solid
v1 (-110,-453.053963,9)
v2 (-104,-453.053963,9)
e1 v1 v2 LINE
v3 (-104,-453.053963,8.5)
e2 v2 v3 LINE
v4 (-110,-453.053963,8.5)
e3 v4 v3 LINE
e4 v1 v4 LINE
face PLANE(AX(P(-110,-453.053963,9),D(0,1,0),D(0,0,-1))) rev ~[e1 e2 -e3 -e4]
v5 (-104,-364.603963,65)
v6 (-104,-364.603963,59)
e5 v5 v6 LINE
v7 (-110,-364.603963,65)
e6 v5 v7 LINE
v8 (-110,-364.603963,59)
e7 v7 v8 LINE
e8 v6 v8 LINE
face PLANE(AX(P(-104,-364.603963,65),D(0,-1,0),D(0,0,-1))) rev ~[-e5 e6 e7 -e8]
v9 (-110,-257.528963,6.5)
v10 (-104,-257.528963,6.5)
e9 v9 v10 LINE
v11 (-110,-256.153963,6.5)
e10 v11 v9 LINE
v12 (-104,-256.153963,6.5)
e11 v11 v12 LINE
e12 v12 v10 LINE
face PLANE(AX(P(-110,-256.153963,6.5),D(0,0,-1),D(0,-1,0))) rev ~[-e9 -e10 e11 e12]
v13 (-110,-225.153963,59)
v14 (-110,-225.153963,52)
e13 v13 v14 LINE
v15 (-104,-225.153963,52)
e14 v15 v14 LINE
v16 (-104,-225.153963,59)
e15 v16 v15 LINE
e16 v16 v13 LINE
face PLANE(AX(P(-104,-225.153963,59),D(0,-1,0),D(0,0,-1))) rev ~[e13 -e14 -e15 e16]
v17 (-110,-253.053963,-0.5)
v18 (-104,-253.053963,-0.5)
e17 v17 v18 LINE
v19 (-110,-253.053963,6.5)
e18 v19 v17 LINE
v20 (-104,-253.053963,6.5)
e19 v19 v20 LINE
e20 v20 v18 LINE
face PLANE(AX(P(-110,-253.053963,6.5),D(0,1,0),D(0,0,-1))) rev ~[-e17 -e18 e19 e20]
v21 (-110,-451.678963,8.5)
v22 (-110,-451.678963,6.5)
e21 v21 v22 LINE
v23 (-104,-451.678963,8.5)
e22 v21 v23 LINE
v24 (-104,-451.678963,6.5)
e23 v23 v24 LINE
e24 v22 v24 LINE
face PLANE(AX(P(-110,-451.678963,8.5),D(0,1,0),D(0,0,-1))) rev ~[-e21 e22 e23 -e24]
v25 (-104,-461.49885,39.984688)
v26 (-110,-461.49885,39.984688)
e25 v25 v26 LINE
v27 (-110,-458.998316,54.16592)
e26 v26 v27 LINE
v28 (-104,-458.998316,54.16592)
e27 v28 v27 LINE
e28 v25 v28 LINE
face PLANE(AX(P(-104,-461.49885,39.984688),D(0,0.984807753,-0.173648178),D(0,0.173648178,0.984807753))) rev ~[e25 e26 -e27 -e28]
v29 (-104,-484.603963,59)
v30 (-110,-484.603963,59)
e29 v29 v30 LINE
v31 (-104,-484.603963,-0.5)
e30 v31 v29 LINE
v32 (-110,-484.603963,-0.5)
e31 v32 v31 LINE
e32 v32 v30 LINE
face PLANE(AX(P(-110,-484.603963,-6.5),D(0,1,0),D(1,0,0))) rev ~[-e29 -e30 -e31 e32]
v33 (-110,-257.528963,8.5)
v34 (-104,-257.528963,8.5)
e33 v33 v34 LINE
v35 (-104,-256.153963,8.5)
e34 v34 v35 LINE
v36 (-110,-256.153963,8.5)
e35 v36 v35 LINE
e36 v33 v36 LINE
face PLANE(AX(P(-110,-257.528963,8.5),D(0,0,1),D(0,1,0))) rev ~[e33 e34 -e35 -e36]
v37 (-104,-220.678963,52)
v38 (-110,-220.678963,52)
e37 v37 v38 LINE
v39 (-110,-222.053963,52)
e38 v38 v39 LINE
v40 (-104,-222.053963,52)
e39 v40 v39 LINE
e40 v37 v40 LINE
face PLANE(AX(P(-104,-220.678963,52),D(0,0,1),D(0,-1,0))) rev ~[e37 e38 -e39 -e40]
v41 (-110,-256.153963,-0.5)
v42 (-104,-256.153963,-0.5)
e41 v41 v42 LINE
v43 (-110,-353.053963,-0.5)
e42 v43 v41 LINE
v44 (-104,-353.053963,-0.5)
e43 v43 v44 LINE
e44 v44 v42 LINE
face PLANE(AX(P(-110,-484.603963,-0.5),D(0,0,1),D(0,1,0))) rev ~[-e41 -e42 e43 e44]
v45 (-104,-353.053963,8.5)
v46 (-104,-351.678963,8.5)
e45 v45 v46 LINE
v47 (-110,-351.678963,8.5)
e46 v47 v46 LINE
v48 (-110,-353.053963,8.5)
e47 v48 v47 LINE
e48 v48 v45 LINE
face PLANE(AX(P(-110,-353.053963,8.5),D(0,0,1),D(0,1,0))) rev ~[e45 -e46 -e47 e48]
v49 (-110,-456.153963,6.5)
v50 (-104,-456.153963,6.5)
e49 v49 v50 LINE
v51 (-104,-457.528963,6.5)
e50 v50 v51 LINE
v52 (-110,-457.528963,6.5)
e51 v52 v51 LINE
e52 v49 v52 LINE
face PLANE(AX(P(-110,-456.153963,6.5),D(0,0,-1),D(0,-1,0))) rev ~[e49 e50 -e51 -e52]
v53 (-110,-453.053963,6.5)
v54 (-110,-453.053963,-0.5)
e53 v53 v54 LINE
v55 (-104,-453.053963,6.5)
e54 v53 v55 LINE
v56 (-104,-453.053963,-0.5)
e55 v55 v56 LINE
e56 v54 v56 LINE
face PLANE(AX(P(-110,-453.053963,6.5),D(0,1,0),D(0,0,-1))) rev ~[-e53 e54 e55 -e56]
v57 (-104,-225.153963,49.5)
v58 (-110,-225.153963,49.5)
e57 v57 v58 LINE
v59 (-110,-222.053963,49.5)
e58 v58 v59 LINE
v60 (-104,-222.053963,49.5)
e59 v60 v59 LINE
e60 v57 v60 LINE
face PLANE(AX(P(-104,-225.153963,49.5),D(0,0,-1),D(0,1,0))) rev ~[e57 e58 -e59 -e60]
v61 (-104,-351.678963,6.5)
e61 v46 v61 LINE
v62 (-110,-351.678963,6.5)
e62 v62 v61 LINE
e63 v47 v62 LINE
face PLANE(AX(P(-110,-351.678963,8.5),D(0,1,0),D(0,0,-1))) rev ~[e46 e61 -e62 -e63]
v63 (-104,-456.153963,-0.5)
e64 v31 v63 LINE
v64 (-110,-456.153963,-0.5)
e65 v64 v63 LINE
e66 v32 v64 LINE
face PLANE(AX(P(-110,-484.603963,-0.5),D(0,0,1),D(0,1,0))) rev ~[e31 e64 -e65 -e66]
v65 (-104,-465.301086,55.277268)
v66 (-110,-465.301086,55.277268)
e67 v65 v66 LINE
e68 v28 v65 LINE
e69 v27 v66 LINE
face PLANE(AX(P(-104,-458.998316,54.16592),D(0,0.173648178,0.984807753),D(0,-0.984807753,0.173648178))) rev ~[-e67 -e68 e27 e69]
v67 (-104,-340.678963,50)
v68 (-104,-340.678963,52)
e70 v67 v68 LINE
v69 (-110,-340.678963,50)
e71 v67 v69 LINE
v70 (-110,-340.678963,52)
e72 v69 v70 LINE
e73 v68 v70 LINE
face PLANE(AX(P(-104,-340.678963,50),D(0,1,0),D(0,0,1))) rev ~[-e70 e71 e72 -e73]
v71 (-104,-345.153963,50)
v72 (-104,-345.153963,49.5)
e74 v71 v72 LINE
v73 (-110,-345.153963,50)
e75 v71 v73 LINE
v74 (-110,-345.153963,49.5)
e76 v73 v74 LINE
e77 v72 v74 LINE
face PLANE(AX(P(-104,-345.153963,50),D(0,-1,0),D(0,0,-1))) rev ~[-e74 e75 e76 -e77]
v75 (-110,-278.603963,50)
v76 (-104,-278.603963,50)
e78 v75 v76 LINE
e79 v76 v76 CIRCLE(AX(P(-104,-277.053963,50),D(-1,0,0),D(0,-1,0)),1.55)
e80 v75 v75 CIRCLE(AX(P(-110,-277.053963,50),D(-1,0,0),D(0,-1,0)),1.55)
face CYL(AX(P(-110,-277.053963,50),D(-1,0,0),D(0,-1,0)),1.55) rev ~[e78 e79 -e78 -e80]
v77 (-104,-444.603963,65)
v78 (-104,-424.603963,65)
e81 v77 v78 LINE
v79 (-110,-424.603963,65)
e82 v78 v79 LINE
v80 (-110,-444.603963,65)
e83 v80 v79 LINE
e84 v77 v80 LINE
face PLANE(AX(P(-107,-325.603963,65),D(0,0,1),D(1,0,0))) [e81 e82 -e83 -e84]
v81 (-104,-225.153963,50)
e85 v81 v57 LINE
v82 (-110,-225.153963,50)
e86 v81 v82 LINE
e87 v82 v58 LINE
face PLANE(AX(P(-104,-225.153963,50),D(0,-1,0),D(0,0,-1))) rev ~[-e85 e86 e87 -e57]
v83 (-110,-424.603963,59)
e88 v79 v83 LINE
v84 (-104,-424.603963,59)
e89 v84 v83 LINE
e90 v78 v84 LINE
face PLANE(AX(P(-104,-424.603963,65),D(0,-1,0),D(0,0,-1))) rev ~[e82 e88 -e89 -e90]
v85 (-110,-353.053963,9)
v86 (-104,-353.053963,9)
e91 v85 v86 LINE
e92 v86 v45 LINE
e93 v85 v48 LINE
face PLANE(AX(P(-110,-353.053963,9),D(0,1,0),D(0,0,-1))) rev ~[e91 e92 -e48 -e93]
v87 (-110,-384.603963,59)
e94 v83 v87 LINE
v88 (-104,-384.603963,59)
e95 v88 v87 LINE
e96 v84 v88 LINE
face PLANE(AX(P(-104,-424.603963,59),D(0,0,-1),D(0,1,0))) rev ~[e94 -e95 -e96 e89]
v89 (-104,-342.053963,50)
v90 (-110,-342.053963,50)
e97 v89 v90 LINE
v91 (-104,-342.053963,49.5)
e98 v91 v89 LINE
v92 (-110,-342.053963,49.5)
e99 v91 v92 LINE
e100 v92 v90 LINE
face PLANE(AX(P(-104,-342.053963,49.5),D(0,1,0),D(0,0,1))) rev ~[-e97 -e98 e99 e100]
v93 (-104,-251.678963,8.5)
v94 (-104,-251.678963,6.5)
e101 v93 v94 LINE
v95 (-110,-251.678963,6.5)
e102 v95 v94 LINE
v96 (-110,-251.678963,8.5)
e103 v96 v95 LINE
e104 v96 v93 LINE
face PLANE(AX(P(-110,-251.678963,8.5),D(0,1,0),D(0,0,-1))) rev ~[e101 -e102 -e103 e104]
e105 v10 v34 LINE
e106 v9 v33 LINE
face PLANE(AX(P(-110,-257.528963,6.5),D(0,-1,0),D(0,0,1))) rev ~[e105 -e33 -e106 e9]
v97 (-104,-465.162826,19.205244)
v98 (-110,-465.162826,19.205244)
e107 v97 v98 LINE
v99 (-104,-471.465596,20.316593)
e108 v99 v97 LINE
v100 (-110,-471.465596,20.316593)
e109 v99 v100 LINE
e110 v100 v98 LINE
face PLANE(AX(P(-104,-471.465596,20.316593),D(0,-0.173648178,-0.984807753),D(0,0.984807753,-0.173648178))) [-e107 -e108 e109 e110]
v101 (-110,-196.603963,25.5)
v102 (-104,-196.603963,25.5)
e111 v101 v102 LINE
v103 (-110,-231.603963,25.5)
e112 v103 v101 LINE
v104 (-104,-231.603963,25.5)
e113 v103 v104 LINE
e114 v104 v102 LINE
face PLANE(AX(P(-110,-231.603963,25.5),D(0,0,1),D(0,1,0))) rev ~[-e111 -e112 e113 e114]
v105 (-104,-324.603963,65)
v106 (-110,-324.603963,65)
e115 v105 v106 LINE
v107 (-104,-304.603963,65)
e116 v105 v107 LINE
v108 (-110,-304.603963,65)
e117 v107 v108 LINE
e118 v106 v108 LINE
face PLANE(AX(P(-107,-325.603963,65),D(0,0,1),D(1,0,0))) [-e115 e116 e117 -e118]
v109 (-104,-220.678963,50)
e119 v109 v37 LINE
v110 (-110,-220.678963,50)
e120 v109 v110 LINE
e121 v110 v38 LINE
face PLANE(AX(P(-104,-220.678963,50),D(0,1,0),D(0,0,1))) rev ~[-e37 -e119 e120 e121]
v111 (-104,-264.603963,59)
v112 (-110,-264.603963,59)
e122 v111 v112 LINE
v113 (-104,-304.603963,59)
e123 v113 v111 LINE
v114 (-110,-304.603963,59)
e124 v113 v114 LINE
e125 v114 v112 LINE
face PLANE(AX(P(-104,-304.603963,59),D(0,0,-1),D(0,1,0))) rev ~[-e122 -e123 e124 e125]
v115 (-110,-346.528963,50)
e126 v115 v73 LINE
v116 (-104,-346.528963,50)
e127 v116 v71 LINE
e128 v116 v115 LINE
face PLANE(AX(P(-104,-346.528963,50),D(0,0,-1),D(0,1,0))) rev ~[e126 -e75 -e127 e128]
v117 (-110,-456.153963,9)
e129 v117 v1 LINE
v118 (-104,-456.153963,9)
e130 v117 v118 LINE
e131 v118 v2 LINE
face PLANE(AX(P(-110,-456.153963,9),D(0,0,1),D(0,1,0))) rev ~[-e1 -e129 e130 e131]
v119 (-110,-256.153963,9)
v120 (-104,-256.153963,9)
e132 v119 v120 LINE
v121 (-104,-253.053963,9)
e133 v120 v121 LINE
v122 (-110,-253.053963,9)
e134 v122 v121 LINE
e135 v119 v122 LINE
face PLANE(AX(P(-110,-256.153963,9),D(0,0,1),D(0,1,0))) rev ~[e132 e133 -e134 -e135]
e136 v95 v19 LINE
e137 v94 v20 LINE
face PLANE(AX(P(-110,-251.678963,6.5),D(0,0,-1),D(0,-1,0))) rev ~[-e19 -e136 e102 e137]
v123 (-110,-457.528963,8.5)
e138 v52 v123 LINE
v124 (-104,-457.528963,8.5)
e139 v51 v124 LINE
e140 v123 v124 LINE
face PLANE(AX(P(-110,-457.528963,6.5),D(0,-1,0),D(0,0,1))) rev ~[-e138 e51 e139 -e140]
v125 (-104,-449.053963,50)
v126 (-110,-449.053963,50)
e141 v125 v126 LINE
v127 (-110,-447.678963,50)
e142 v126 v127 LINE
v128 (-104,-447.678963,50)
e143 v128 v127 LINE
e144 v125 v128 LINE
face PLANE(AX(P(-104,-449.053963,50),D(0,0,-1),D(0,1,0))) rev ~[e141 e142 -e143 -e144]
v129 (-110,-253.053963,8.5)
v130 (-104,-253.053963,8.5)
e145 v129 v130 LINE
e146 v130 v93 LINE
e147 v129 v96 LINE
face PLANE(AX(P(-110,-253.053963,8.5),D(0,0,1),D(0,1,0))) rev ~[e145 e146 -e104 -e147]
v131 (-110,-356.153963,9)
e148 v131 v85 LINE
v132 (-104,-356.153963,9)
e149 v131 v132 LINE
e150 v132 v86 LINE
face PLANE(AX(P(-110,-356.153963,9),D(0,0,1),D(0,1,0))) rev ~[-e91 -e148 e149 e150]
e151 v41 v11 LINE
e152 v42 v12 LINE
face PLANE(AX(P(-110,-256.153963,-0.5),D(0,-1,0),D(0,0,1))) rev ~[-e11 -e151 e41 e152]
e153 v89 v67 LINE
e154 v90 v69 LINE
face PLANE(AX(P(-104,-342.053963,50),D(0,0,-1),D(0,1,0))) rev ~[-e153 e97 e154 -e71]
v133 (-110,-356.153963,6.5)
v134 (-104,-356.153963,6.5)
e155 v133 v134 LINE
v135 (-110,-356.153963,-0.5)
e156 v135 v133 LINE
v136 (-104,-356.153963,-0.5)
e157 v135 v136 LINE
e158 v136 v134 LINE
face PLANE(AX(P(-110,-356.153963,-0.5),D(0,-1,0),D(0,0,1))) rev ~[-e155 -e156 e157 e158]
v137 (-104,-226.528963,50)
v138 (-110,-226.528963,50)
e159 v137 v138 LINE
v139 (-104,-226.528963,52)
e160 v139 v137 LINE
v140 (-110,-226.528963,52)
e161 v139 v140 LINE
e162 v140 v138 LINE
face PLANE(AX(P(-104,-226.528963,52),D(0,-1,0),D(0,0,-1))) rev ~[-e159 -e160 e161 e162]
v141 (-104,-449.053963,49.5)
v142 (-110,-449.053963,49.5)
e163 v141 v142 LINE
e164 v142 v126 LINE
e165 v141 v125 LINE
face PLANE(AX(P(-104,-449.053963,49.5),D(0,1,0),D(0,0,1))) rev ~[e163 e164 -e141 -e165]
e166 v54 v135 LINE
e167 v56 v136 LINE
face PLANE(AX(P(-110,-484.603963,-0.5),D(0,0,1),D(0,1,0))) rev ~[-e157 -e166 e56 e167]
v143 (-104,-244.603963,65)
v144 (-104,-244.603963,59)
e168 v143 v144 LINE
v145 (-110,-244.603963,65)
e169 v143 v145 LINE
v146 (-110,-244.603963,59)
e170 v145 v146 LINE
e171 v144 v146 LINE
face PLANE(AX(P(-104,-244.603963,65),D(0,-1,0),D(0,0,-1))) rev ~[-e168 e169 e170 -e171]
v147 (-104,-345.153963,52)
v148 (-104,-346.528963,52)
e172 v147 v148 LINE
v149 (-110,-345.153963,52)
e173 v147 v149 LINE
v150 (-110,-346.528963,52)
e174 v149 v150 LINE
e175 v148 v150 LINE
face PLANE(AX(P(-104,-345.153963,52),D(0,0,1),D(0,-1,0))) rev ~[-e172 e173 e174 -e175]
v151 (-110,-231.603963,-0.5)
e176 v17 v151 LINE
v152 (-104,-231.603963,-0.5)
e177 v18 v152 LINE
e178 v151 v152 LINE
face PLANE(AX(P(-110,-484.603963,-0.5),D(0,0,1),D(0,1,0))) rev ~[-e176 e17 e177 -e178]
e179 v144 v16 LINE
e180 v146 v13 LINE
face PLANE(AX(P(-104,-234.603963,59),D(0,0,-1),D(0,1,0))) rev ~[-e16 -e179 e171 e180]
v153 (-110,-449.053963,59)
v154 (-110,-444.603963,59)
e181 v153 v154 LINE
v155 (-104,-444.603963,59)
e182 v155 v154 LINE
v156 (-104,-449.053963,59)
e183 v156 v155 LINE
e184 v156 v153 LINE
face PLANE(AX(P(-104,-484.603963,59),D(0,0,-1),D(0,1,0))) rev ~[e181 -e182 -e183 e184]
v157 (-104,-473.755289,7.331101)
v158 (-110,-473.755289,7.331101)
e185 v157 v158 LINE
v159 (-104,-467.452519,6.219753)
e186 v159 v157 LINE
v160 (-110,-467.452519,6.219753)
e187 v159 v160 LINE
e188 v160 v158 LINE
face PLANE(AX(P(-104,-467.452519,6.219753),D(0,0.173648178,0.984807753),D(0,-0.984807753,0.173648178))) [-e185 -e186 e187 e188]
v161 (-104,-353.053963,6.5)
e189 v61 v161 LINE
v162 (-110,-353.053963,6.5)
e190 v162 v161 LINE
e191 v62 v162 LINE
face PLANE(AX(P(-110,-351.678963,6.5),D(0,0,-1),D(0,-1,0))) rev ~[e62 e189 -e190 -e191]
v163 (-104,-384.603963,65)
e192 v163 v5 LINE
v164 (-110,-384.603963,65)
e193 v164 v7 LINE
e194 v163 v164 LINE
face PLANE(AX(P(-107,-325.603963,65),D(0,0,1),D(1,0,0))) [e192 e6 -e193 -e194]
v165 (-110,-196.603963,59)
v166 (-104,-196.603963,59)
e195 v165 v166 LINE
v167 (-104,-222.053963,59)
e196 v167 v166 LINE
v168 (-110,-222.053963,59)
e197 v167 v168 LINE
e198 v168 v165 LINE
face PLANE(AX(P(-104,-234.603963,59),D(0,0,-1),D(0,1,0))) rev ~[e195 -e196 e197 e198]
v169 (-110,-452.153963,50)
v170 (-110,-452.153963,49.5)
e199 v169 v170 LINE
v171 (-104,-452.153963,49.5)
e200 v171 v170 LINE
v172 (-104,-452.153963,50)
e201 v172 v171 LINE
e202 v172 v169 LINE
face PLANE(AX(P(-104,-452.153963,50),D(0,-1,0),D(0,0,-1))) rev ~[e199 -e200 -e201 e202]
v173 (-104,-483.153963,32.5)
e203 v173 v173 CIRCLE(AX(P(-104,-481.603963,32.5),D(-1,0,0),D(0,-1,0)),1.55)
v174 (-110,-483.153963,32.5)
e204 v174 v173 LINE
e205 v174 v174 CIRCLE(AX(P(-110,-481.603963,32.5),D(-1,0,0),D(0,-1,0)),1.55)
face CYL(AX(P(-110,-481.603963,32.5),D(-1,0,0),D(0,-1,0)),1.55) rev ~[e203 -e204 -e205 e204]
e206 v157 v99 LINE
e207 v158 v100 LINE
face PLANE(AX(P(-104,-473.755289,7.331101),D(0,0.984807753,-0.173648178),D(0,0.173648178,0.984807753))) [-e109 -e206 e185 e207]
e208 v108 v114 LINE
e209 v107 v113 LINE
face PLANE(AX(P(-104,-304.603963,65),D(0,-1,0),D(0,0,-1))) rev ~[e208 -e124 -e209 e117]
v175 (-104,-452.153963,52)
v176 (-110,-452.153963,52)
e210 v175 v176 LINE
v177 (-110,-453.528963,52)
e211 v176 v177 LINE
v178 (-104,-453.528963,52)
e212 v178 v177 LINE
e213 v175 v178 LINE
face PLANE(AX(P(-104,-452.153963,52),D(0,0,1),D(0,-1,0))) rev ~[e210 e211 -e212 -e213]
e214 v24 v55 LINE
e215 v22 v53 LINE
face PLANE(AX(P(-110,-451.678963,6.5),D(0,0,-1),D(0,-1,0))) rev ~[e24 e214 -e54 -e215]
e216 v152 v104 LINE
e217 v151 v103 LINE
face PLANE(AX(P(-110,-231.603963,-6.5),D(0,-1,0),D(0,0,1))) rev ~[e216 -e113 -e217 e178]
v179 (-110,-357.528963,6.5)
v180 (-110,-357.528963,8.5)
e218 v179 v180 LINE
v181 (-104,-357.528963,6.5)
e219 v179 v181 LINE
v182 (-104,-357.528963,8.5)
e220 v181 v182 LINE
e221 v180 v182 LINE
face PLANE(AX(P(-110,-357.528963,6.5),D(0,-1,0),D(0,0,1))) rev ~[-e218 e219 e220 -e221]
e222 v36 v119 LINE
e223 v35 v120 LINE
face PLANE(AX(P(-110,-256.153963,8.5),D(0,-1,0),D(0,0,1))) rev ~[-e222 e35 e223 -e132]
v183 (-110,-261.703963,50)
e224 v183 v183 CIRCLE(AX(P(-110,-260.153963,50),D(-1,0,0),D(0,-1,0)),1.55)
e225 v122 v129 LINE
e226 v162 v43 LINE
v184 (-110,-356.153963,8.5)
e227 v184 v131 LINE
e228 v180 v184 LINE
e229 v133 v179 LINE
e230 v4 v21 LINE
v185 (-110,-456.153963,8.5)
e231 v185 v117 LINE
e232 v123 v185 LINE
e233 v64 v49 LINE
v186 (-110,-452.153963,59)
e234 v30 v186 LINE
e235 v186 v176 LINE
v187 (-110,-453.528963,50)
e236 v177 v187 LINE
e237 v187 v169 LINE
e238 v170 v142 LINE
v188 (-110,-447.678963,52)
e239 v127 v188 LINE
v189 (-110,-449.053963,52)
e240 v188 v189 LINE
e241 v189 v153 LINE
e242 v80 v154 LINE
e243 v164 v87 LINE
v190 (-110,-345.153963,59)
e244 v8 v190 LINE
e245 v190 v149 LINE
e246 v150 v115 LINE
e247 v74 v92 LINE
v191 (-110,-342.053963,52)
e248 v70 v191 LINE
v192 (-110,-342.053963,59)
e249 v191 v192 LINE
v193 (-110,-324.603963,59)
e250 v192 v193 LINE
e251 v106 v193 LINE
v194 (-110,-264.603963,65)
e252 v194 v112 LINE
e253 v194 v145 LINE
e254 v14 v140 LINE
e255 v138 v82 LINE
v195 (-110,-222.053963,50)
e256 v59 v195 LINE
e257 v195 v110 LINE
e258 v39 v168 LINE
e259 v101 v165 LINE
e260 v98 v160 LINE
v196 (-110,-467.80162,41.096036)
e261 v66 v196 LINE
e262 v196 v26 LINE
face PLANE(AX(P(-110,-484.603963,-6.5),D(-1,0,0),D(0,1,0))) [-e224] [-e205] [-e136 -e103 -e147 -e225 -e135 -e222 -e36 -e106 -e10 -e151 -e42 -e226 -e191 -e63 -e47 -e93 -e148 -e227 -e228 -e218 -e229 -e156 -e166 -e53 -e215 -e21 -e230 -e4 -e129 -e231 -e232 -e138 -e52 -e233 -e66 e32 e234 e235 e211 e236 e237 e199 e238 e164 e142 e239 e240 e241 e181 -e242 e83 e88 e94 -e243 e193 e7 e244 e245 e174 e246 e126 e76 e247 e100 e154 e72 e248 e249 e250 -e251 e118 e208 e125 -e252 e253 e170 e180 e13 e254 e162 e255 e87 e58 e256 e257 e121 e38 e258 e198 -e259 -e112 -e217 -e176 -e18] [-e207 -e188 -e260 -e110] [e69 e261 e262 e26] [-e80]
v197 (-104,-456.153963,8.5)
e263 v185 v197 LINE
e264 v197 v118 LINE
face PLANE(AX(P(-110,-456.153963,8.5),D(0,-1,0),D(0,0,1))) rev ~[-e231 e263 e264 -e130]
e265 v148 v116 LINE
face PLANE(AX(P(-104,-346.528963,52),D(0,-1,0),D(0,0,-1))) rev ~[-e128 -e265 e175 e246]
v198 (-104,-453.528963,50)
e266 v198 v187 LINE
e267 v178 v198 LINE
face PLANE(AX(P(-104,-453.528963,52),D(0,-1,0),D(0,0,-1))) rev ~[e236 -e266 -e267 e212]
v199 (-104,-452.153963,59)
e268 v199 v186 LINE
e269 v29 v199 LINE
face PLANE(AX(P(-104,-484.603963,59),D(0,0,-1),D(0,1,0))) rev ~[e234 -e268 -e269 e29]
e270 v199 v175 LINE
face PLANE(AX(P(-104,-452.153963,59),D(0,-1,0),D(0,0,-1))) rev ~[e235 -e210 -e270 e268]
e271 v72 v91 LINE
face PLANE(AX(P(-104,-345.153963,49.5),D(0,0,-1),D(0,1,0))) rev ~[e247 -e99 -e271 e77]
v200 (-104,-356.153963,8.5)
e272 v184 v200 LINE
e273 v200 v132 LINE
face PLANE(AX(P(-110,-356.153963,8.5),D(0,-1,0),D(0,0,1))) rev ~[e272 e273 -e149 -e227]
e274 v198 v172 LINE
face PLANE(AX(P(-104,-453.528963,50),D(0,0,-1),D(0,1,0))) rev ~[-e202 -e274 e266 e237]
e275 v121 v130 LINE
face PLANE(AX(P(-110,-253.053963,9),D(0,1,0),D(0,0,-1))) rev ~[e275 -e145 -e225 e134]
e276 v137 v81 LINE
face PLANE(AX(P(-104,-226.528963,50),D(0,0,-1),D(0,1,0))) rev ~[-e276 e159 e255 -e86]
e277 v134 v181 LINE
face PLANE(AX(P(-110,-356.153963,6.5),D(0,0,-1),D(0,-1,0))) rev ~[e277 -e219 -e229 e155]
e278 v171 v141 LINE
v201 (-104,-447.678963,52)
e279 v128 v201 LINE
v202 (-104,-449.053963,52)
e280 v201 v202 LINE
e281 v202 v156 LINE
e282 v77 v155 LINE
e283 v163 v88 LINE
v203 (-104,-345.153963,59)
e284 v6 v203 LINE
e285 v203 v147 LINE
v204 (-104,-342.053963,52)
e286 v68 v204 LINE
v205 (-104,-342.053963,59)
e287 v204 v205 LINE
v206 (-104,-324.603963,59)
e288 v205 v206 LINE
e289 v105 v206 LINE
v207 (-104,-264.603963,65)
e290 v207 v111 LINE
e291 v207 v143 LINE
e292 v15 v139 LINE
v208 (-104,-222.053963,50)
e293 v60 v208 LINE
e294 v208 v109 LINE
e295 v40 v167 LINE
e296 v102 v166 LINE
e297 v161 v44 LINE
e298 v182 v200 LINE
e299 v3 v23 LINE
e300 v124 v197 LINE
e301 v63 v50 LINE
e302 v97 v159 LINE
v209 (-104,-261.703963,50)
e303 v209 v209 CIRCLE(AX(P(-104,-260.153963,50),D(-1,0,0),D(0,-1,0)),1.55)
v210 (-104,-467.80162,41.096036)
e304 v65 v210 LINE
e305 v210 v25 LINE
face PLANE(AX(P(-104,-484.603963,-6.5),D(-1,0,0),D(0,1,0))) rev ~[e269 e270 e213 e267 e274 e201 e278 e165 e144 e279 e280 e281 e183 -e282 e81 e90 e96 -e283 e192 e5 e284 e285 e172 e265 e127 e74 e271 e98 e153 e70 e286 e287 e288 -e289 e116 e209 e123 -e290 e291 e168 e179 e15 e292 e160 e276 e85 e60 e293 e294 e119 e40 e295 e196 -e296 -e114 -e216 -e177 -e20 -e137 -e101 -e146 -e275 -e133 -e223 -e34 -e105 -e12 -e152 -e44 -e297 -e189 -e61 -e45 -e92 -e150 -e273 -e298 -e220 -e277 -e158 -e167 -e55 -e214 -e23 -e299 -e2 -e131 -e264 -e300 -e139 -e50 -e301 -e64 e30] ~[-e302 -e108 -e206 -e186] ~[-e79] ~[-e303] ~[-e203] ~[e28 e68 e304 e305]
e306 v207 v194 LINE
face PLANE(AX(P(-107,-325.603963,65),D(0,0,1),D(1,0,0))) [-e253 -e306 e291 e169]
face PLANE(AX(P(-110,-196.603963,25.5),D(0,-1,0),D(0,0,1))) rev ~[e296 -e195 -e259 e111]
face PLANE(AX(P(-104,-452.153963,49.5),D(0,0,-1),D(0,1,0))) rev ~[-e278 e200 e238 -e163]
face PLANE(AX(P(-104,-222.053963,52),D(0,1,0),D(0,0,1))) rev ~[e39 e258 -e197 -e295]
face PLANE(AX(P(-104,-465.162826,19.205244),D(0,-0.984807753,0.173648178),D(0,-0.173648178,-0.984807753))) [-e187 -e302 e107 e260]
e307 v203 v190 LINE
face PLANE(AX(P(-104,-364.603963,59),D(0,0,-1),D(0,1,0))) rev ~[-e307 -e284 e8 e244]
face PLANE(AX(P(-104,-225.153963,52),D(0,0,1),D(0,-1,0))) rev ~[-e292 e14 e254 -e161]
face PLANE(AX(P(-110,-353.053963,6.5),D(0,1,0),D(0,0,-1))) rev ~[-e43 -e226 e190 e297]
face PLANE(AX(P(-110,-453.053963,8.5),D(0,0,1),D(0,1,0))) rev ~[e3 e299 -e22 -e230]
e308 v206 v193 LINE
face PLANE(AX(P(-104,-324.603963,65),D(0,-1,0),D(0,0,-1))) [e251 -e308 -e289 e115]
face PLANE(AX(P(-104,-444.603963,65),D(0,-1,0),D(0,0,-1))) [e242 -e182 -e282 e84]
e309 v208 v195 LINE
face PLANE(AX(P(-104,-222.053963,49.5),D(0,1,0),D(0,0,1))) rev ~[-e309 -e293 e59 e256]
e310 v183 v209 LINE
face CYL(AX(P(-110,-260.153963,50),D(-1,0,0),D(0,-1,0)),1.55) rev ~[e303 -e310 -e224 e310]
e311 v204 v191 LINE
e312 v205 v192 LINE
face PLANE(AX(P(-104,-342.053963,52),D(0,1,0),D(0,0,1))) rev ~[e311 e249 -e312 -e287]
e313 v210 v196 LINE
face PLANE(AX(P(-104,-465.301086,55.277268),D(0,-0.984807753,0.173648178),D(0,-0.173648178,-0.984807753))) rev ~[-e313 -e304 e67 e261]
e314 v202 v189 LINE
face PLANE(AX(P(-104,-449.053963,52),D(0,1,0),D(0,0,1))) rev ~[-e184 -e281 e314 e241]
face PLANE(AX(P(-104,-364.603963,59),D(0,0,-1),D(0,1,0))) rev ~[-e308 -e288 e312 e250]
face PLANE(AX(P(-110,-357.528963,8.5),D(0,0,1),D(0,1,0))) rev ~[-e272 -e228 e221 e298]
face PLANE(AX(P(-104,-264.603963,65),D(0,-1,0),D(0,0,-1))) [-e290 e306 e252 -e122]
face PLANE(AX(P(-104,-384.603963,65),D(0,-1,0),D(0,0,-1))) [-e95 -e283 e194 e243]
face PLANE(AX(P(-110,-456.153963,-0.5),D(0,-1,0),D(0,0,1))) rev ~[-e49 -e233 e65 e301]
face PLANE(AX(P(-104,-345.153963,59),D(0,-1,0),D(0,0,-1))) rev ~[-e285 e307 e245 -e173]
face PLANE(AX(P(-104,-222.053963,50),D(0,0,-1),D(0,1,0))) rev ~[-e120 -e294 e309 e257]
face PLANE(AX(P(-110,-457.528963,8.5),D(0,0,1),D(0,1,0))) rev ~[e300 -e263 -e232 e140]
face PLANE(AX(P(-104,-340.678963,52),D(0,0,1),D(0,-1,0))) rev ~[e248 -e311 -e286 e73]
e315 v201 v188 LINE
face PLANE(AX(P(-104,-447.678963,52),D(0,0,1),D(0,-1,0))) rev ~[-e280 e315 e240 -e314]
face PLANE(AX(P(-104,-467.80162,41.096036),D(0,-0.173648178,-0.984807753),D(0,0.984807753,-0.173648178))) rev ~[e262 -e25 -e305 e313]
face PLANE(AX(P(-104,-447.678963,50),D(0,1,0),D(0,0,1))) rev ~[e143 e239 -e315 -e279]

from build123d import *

# Parameters (mm, degrees)
DODANIE_WYCI_GNI_CIE1_DEPTH      = 65
DODANIE_WYCI_GNI_CIE1_DEPTH_BACK = 6.5
SZKIC1_W                         = 6
SZKIC1_H                         = 318
WYTNIJ_WYCI_GNI_CIE1_DEPTH       = 6
SZKIC4_W                         = 6
SZKIC4_H                         = 253
WYTNIJ_WYCI_GNI_CIE2_DEPTH       = 6
WYTNIJ_WYCI_GNI_CIE3_DEPTH       = 6
SZYK_LINIOWY2_COUNT              = 2
SZYK_LINIOWY2_PITCH              = 100
SZYK_LINIOWY2_COL_COUNT          = 2
SZYK_LINIOWY2_COL_PITCH          = 200
SZKIC6_W                         = 6
SZKIC6_H                         = 40
WYTNIJ_WYCI_GNI_CIE4_DEPTH       = 6
SZYK_LINIOWY3_COUNT              = 6
SZYK_LINIOWY3_PITCH              = 60
SZYK_LINIOWY3_COUNT_DIR2         = 2
SZYK_LINIOWY3_PITCH_DIR2         = 250
WYTNIJ_WYCI_GNI_CIE5_DEPTH       = 6
SZYK_LINIOWY4_COUNT              = 2
SZYK_LINIOWY4_PITCH              = 107
SZYK_LINIOWY4_COL_COUNT          = 2
SZYK_LINIOWY4_COL_PITCH          = 227
SZKIC9_R                         = 1.55
WYTNIJ_WYCI_GNI_CIE6_DEPTH       = 6
WYTNIJ_WYCI_GNI_CIE7_DEPTH       = 6
SZKIC13_R                        = 1.55
WYTNIJ_WYCI_GNI_CIE9_DEPTH       = 10


with BuildPart() as part:
    # Szkic1 → Dodanie-wyciągnięcie1 (new, two sides: drawn at the far end of the back side and taken through both)
    with BuildSketch(Plane.XY.offset(-DODANIE_WYCI_GNI_CIE1_DEPTH_BACK)):
        with Locations((-107, -325.603962956)):
            Rectangle(SZKIC1_W, SZKIC1_H)
    extrude(amount=DODANIE_WYCI_GNI_CIE1_DEPTH + DODANIE_WYCI_GNI_CIE1_DEPTH_BACK)

    # Szkic2 → Wytnij-wyciągnięcie1 (cut)
    with BuildSketch(Plane.ZY.offset(110)):
        Polygon((-6.5, -231.603962956), (25.5, -231.603962956), (25.5, -196.603962956), (65, -196.603962956), (65, -166.603962956), (-6.5, -166.603962956), align=None)
    extrude(amount=-WYTNIJ_WYCI_GNI_CIE1_DEPTH, mode=Mode.SUBTRACT)

    # Szkic4 → Wytnij-wyciągnięcie2 (cut)
    with BuildSketch(Plane.ZY.offset(110)):
        with Locations((-3.5, -358.103962956)):
            Rectangle(SZKIC4_W, SZKIC4_H)
    extrude(amount=-WYTNIJ_WYCI_GNI_CIE2_DEPTH, mode=Mode.SUBTRACT)

    # Szkic5 → Wytnij-wyciągnięcie3 (cut)
    with BuildSketch(Plane.ZY.offset(110)):
        Polygon((-0.5, -453.053962956), (-0.5, -456.153962956), (6.5, -456.153962956), (6.5, -457.528962956), (8.5, -457.528962956), (8.5, -456.153962956), (9, -456.153962956), (9, -453.053962956), (8.5, -453.053962956), (8.5, -451.678962956), (6.5, -451.678962956), (6.5, -453.053962956), align=None)
    wytnij_wyci_gni_cie3 = extrude(amount=-WYTNIJ_WYCI_GNI_CIE3_DEPTH, mode=Mode.SUBTRACT)

    # Szyk liniowy2: Wytnij-wyciągnięcie3 ×2
    with Locations(*[(0, i * SZYK_LINIOWY2_PITCH, 0) for i in range(1, SZYK_LINIOWY2_COUNT)]):
        add(wytnij_wyci_gni_cie3, mode=Mode.SUBTRACT)

    # Szyk liniowy2 col: Wytnij-wyciągnięcie3 ×2
    with Locations(*[(0, i * SZYK_LINIOWY2_COL_PITCH, 0) for i in range(1, SZYK_LINIOWY2_COL_COUNT)]):
        add(wytnij_wyci_gni_cie3, mode=Mode.SUBTRACT)

    # Szkic6 → Wytnij-wyciągnięcie4 (cut)
    with BuildSketch(Plane(origin=(-104, 0, 0), x_dir=(0, 0, -1), z_dir=(1, 0, 0))):
        with Locations((-62, -464.603962956)):
            Rectangle(SZKIC6_W, SZKIC6_H)
    wytnij_wyci_gni_cie4 = extrude(amount=-WYTNIJ_WYCI_GNI_CIE4_DEPTH, mode=Mode.SUBTRACT)

    # Szyk liniowy3: Wytnij-wyci_gni_cie4 6 × 2
    with Locations(*[Vector(0, 1, 0) * (i * SZYK_LINIOWY3_PITCH) + Vector(0, 1, 0) * (j * SZYK_LINIOWY3_PITCH_DIR2) for i in range(SZYK_LINIOWY3_COUNT) for j in range(SZYK_LINIOWY3_COUNT_DIR2) if (i, j) != (0, 0)]):
        add(wytnij_wyci_gni_cie4, mode=Mode.SUBTRACT)

    # Szkic7 → Wytnij-wyciągnięcie5 (cut)
    with BuildSketch(Plane(origin=(-104, 0, 0), x_dir=(0, 0, -1), z_dir=(1, 0, 0))):
        Polygon((-59, -449.053962956), (-59, -452.153962956), (-52, -452.153962956), (-52, -453.528962956), (-50, -453.528962956), (-50, -452.153962956), (-49.5, -452.153962956), (-49.5, -449.053962956), (-50, -449.053962956), (-50, -447.678962956), (-52, -447.678962956), (-52, -449.053962956), align=None)
    wytnij_wyci_gni_cie5 = extrude(amount=-WYTNIJ_WYCI_GNI_CIE5_DEPTH, mode=Mode.SUBTRACT)

    # Szyk liniowy4: Wytnij-wyciągnięcie5 ×2
    with Locations(*[(0, i * SZYK_LINIOWY4_PITCH, 0) for i in range(1, SZYK_LINIOWY4_COUNT)]):
        add(wytnij_wyci_gni_cie5, mode=Mode.SUBTRACT)

    # Szyk liniowy4 col: Wytnij-wyciągnięcie5 ×2
    with Locations(*[(0, i * SZYK_LINIOWY4_COL_PITCH, 0) for i in range(1, SZYK_LINIOWY4_COL_COUNT)]):
        add(wytnij_wyci_gni_cie5, mode=Mode.SUBTRACT)

    # Szkic9 → Wytnij-wyciągnięcie6 (cut)
    with BuildSketch(Plane.ZY.offset(110)):
        with Locations(Location((32.500000044, -481.603962956, 0), (0, 0, 270))):
            Circle(SZKIC9_R)
    extrude(amount=-WYTNIJ_WYCI_GNI_CIE6_DEPTH, mode=Mode.SUBTRACT)

    # Szkic11 → Wytnij-wyciągnięcie7 (cut)
    with BuildSketch(Plane(origin=(-104, 0, 0), x_dir=(0, 0, -1), z_dir=(1, 0, 0))):
        Polygon((-19.205244402, -465.162826439), (-6.219752977, -467.452518935), (-7.331101314, -473.755288555), (-20.316592739, -471.465596059), align=None)
        Polygon((-39.98468799, -461.498849891), (-54.165919634, -458.998316132), (-55.277267971, -465.301085752), (-41.096036327, -467.80161951), align=None)
    extrude(amount=-WYTNIJ_WYCI_GNI_CIE7_DEPTH, mode=Mode.SUBTRACT)

    # Szkic13 → Wytnij-wyciągnięcie9 (cut)
    with BuildSketch(Plane.ZY.offset(110)):
        with Locations(Location((50.000000044, -260.153962956, 0), (0, 0, 270))):
            Circle(SZKIC13_R)
        with Locations(Location((50.000000044, -277.053962956, 0), (0, 0, 270))):
            Circle(SZKIC13_R)
    extrude(amount=-WYTNIJ_WYCI_GNI_CIE9_DEPTH, mode=Mode.SUBTRACT)


solid = part.part
